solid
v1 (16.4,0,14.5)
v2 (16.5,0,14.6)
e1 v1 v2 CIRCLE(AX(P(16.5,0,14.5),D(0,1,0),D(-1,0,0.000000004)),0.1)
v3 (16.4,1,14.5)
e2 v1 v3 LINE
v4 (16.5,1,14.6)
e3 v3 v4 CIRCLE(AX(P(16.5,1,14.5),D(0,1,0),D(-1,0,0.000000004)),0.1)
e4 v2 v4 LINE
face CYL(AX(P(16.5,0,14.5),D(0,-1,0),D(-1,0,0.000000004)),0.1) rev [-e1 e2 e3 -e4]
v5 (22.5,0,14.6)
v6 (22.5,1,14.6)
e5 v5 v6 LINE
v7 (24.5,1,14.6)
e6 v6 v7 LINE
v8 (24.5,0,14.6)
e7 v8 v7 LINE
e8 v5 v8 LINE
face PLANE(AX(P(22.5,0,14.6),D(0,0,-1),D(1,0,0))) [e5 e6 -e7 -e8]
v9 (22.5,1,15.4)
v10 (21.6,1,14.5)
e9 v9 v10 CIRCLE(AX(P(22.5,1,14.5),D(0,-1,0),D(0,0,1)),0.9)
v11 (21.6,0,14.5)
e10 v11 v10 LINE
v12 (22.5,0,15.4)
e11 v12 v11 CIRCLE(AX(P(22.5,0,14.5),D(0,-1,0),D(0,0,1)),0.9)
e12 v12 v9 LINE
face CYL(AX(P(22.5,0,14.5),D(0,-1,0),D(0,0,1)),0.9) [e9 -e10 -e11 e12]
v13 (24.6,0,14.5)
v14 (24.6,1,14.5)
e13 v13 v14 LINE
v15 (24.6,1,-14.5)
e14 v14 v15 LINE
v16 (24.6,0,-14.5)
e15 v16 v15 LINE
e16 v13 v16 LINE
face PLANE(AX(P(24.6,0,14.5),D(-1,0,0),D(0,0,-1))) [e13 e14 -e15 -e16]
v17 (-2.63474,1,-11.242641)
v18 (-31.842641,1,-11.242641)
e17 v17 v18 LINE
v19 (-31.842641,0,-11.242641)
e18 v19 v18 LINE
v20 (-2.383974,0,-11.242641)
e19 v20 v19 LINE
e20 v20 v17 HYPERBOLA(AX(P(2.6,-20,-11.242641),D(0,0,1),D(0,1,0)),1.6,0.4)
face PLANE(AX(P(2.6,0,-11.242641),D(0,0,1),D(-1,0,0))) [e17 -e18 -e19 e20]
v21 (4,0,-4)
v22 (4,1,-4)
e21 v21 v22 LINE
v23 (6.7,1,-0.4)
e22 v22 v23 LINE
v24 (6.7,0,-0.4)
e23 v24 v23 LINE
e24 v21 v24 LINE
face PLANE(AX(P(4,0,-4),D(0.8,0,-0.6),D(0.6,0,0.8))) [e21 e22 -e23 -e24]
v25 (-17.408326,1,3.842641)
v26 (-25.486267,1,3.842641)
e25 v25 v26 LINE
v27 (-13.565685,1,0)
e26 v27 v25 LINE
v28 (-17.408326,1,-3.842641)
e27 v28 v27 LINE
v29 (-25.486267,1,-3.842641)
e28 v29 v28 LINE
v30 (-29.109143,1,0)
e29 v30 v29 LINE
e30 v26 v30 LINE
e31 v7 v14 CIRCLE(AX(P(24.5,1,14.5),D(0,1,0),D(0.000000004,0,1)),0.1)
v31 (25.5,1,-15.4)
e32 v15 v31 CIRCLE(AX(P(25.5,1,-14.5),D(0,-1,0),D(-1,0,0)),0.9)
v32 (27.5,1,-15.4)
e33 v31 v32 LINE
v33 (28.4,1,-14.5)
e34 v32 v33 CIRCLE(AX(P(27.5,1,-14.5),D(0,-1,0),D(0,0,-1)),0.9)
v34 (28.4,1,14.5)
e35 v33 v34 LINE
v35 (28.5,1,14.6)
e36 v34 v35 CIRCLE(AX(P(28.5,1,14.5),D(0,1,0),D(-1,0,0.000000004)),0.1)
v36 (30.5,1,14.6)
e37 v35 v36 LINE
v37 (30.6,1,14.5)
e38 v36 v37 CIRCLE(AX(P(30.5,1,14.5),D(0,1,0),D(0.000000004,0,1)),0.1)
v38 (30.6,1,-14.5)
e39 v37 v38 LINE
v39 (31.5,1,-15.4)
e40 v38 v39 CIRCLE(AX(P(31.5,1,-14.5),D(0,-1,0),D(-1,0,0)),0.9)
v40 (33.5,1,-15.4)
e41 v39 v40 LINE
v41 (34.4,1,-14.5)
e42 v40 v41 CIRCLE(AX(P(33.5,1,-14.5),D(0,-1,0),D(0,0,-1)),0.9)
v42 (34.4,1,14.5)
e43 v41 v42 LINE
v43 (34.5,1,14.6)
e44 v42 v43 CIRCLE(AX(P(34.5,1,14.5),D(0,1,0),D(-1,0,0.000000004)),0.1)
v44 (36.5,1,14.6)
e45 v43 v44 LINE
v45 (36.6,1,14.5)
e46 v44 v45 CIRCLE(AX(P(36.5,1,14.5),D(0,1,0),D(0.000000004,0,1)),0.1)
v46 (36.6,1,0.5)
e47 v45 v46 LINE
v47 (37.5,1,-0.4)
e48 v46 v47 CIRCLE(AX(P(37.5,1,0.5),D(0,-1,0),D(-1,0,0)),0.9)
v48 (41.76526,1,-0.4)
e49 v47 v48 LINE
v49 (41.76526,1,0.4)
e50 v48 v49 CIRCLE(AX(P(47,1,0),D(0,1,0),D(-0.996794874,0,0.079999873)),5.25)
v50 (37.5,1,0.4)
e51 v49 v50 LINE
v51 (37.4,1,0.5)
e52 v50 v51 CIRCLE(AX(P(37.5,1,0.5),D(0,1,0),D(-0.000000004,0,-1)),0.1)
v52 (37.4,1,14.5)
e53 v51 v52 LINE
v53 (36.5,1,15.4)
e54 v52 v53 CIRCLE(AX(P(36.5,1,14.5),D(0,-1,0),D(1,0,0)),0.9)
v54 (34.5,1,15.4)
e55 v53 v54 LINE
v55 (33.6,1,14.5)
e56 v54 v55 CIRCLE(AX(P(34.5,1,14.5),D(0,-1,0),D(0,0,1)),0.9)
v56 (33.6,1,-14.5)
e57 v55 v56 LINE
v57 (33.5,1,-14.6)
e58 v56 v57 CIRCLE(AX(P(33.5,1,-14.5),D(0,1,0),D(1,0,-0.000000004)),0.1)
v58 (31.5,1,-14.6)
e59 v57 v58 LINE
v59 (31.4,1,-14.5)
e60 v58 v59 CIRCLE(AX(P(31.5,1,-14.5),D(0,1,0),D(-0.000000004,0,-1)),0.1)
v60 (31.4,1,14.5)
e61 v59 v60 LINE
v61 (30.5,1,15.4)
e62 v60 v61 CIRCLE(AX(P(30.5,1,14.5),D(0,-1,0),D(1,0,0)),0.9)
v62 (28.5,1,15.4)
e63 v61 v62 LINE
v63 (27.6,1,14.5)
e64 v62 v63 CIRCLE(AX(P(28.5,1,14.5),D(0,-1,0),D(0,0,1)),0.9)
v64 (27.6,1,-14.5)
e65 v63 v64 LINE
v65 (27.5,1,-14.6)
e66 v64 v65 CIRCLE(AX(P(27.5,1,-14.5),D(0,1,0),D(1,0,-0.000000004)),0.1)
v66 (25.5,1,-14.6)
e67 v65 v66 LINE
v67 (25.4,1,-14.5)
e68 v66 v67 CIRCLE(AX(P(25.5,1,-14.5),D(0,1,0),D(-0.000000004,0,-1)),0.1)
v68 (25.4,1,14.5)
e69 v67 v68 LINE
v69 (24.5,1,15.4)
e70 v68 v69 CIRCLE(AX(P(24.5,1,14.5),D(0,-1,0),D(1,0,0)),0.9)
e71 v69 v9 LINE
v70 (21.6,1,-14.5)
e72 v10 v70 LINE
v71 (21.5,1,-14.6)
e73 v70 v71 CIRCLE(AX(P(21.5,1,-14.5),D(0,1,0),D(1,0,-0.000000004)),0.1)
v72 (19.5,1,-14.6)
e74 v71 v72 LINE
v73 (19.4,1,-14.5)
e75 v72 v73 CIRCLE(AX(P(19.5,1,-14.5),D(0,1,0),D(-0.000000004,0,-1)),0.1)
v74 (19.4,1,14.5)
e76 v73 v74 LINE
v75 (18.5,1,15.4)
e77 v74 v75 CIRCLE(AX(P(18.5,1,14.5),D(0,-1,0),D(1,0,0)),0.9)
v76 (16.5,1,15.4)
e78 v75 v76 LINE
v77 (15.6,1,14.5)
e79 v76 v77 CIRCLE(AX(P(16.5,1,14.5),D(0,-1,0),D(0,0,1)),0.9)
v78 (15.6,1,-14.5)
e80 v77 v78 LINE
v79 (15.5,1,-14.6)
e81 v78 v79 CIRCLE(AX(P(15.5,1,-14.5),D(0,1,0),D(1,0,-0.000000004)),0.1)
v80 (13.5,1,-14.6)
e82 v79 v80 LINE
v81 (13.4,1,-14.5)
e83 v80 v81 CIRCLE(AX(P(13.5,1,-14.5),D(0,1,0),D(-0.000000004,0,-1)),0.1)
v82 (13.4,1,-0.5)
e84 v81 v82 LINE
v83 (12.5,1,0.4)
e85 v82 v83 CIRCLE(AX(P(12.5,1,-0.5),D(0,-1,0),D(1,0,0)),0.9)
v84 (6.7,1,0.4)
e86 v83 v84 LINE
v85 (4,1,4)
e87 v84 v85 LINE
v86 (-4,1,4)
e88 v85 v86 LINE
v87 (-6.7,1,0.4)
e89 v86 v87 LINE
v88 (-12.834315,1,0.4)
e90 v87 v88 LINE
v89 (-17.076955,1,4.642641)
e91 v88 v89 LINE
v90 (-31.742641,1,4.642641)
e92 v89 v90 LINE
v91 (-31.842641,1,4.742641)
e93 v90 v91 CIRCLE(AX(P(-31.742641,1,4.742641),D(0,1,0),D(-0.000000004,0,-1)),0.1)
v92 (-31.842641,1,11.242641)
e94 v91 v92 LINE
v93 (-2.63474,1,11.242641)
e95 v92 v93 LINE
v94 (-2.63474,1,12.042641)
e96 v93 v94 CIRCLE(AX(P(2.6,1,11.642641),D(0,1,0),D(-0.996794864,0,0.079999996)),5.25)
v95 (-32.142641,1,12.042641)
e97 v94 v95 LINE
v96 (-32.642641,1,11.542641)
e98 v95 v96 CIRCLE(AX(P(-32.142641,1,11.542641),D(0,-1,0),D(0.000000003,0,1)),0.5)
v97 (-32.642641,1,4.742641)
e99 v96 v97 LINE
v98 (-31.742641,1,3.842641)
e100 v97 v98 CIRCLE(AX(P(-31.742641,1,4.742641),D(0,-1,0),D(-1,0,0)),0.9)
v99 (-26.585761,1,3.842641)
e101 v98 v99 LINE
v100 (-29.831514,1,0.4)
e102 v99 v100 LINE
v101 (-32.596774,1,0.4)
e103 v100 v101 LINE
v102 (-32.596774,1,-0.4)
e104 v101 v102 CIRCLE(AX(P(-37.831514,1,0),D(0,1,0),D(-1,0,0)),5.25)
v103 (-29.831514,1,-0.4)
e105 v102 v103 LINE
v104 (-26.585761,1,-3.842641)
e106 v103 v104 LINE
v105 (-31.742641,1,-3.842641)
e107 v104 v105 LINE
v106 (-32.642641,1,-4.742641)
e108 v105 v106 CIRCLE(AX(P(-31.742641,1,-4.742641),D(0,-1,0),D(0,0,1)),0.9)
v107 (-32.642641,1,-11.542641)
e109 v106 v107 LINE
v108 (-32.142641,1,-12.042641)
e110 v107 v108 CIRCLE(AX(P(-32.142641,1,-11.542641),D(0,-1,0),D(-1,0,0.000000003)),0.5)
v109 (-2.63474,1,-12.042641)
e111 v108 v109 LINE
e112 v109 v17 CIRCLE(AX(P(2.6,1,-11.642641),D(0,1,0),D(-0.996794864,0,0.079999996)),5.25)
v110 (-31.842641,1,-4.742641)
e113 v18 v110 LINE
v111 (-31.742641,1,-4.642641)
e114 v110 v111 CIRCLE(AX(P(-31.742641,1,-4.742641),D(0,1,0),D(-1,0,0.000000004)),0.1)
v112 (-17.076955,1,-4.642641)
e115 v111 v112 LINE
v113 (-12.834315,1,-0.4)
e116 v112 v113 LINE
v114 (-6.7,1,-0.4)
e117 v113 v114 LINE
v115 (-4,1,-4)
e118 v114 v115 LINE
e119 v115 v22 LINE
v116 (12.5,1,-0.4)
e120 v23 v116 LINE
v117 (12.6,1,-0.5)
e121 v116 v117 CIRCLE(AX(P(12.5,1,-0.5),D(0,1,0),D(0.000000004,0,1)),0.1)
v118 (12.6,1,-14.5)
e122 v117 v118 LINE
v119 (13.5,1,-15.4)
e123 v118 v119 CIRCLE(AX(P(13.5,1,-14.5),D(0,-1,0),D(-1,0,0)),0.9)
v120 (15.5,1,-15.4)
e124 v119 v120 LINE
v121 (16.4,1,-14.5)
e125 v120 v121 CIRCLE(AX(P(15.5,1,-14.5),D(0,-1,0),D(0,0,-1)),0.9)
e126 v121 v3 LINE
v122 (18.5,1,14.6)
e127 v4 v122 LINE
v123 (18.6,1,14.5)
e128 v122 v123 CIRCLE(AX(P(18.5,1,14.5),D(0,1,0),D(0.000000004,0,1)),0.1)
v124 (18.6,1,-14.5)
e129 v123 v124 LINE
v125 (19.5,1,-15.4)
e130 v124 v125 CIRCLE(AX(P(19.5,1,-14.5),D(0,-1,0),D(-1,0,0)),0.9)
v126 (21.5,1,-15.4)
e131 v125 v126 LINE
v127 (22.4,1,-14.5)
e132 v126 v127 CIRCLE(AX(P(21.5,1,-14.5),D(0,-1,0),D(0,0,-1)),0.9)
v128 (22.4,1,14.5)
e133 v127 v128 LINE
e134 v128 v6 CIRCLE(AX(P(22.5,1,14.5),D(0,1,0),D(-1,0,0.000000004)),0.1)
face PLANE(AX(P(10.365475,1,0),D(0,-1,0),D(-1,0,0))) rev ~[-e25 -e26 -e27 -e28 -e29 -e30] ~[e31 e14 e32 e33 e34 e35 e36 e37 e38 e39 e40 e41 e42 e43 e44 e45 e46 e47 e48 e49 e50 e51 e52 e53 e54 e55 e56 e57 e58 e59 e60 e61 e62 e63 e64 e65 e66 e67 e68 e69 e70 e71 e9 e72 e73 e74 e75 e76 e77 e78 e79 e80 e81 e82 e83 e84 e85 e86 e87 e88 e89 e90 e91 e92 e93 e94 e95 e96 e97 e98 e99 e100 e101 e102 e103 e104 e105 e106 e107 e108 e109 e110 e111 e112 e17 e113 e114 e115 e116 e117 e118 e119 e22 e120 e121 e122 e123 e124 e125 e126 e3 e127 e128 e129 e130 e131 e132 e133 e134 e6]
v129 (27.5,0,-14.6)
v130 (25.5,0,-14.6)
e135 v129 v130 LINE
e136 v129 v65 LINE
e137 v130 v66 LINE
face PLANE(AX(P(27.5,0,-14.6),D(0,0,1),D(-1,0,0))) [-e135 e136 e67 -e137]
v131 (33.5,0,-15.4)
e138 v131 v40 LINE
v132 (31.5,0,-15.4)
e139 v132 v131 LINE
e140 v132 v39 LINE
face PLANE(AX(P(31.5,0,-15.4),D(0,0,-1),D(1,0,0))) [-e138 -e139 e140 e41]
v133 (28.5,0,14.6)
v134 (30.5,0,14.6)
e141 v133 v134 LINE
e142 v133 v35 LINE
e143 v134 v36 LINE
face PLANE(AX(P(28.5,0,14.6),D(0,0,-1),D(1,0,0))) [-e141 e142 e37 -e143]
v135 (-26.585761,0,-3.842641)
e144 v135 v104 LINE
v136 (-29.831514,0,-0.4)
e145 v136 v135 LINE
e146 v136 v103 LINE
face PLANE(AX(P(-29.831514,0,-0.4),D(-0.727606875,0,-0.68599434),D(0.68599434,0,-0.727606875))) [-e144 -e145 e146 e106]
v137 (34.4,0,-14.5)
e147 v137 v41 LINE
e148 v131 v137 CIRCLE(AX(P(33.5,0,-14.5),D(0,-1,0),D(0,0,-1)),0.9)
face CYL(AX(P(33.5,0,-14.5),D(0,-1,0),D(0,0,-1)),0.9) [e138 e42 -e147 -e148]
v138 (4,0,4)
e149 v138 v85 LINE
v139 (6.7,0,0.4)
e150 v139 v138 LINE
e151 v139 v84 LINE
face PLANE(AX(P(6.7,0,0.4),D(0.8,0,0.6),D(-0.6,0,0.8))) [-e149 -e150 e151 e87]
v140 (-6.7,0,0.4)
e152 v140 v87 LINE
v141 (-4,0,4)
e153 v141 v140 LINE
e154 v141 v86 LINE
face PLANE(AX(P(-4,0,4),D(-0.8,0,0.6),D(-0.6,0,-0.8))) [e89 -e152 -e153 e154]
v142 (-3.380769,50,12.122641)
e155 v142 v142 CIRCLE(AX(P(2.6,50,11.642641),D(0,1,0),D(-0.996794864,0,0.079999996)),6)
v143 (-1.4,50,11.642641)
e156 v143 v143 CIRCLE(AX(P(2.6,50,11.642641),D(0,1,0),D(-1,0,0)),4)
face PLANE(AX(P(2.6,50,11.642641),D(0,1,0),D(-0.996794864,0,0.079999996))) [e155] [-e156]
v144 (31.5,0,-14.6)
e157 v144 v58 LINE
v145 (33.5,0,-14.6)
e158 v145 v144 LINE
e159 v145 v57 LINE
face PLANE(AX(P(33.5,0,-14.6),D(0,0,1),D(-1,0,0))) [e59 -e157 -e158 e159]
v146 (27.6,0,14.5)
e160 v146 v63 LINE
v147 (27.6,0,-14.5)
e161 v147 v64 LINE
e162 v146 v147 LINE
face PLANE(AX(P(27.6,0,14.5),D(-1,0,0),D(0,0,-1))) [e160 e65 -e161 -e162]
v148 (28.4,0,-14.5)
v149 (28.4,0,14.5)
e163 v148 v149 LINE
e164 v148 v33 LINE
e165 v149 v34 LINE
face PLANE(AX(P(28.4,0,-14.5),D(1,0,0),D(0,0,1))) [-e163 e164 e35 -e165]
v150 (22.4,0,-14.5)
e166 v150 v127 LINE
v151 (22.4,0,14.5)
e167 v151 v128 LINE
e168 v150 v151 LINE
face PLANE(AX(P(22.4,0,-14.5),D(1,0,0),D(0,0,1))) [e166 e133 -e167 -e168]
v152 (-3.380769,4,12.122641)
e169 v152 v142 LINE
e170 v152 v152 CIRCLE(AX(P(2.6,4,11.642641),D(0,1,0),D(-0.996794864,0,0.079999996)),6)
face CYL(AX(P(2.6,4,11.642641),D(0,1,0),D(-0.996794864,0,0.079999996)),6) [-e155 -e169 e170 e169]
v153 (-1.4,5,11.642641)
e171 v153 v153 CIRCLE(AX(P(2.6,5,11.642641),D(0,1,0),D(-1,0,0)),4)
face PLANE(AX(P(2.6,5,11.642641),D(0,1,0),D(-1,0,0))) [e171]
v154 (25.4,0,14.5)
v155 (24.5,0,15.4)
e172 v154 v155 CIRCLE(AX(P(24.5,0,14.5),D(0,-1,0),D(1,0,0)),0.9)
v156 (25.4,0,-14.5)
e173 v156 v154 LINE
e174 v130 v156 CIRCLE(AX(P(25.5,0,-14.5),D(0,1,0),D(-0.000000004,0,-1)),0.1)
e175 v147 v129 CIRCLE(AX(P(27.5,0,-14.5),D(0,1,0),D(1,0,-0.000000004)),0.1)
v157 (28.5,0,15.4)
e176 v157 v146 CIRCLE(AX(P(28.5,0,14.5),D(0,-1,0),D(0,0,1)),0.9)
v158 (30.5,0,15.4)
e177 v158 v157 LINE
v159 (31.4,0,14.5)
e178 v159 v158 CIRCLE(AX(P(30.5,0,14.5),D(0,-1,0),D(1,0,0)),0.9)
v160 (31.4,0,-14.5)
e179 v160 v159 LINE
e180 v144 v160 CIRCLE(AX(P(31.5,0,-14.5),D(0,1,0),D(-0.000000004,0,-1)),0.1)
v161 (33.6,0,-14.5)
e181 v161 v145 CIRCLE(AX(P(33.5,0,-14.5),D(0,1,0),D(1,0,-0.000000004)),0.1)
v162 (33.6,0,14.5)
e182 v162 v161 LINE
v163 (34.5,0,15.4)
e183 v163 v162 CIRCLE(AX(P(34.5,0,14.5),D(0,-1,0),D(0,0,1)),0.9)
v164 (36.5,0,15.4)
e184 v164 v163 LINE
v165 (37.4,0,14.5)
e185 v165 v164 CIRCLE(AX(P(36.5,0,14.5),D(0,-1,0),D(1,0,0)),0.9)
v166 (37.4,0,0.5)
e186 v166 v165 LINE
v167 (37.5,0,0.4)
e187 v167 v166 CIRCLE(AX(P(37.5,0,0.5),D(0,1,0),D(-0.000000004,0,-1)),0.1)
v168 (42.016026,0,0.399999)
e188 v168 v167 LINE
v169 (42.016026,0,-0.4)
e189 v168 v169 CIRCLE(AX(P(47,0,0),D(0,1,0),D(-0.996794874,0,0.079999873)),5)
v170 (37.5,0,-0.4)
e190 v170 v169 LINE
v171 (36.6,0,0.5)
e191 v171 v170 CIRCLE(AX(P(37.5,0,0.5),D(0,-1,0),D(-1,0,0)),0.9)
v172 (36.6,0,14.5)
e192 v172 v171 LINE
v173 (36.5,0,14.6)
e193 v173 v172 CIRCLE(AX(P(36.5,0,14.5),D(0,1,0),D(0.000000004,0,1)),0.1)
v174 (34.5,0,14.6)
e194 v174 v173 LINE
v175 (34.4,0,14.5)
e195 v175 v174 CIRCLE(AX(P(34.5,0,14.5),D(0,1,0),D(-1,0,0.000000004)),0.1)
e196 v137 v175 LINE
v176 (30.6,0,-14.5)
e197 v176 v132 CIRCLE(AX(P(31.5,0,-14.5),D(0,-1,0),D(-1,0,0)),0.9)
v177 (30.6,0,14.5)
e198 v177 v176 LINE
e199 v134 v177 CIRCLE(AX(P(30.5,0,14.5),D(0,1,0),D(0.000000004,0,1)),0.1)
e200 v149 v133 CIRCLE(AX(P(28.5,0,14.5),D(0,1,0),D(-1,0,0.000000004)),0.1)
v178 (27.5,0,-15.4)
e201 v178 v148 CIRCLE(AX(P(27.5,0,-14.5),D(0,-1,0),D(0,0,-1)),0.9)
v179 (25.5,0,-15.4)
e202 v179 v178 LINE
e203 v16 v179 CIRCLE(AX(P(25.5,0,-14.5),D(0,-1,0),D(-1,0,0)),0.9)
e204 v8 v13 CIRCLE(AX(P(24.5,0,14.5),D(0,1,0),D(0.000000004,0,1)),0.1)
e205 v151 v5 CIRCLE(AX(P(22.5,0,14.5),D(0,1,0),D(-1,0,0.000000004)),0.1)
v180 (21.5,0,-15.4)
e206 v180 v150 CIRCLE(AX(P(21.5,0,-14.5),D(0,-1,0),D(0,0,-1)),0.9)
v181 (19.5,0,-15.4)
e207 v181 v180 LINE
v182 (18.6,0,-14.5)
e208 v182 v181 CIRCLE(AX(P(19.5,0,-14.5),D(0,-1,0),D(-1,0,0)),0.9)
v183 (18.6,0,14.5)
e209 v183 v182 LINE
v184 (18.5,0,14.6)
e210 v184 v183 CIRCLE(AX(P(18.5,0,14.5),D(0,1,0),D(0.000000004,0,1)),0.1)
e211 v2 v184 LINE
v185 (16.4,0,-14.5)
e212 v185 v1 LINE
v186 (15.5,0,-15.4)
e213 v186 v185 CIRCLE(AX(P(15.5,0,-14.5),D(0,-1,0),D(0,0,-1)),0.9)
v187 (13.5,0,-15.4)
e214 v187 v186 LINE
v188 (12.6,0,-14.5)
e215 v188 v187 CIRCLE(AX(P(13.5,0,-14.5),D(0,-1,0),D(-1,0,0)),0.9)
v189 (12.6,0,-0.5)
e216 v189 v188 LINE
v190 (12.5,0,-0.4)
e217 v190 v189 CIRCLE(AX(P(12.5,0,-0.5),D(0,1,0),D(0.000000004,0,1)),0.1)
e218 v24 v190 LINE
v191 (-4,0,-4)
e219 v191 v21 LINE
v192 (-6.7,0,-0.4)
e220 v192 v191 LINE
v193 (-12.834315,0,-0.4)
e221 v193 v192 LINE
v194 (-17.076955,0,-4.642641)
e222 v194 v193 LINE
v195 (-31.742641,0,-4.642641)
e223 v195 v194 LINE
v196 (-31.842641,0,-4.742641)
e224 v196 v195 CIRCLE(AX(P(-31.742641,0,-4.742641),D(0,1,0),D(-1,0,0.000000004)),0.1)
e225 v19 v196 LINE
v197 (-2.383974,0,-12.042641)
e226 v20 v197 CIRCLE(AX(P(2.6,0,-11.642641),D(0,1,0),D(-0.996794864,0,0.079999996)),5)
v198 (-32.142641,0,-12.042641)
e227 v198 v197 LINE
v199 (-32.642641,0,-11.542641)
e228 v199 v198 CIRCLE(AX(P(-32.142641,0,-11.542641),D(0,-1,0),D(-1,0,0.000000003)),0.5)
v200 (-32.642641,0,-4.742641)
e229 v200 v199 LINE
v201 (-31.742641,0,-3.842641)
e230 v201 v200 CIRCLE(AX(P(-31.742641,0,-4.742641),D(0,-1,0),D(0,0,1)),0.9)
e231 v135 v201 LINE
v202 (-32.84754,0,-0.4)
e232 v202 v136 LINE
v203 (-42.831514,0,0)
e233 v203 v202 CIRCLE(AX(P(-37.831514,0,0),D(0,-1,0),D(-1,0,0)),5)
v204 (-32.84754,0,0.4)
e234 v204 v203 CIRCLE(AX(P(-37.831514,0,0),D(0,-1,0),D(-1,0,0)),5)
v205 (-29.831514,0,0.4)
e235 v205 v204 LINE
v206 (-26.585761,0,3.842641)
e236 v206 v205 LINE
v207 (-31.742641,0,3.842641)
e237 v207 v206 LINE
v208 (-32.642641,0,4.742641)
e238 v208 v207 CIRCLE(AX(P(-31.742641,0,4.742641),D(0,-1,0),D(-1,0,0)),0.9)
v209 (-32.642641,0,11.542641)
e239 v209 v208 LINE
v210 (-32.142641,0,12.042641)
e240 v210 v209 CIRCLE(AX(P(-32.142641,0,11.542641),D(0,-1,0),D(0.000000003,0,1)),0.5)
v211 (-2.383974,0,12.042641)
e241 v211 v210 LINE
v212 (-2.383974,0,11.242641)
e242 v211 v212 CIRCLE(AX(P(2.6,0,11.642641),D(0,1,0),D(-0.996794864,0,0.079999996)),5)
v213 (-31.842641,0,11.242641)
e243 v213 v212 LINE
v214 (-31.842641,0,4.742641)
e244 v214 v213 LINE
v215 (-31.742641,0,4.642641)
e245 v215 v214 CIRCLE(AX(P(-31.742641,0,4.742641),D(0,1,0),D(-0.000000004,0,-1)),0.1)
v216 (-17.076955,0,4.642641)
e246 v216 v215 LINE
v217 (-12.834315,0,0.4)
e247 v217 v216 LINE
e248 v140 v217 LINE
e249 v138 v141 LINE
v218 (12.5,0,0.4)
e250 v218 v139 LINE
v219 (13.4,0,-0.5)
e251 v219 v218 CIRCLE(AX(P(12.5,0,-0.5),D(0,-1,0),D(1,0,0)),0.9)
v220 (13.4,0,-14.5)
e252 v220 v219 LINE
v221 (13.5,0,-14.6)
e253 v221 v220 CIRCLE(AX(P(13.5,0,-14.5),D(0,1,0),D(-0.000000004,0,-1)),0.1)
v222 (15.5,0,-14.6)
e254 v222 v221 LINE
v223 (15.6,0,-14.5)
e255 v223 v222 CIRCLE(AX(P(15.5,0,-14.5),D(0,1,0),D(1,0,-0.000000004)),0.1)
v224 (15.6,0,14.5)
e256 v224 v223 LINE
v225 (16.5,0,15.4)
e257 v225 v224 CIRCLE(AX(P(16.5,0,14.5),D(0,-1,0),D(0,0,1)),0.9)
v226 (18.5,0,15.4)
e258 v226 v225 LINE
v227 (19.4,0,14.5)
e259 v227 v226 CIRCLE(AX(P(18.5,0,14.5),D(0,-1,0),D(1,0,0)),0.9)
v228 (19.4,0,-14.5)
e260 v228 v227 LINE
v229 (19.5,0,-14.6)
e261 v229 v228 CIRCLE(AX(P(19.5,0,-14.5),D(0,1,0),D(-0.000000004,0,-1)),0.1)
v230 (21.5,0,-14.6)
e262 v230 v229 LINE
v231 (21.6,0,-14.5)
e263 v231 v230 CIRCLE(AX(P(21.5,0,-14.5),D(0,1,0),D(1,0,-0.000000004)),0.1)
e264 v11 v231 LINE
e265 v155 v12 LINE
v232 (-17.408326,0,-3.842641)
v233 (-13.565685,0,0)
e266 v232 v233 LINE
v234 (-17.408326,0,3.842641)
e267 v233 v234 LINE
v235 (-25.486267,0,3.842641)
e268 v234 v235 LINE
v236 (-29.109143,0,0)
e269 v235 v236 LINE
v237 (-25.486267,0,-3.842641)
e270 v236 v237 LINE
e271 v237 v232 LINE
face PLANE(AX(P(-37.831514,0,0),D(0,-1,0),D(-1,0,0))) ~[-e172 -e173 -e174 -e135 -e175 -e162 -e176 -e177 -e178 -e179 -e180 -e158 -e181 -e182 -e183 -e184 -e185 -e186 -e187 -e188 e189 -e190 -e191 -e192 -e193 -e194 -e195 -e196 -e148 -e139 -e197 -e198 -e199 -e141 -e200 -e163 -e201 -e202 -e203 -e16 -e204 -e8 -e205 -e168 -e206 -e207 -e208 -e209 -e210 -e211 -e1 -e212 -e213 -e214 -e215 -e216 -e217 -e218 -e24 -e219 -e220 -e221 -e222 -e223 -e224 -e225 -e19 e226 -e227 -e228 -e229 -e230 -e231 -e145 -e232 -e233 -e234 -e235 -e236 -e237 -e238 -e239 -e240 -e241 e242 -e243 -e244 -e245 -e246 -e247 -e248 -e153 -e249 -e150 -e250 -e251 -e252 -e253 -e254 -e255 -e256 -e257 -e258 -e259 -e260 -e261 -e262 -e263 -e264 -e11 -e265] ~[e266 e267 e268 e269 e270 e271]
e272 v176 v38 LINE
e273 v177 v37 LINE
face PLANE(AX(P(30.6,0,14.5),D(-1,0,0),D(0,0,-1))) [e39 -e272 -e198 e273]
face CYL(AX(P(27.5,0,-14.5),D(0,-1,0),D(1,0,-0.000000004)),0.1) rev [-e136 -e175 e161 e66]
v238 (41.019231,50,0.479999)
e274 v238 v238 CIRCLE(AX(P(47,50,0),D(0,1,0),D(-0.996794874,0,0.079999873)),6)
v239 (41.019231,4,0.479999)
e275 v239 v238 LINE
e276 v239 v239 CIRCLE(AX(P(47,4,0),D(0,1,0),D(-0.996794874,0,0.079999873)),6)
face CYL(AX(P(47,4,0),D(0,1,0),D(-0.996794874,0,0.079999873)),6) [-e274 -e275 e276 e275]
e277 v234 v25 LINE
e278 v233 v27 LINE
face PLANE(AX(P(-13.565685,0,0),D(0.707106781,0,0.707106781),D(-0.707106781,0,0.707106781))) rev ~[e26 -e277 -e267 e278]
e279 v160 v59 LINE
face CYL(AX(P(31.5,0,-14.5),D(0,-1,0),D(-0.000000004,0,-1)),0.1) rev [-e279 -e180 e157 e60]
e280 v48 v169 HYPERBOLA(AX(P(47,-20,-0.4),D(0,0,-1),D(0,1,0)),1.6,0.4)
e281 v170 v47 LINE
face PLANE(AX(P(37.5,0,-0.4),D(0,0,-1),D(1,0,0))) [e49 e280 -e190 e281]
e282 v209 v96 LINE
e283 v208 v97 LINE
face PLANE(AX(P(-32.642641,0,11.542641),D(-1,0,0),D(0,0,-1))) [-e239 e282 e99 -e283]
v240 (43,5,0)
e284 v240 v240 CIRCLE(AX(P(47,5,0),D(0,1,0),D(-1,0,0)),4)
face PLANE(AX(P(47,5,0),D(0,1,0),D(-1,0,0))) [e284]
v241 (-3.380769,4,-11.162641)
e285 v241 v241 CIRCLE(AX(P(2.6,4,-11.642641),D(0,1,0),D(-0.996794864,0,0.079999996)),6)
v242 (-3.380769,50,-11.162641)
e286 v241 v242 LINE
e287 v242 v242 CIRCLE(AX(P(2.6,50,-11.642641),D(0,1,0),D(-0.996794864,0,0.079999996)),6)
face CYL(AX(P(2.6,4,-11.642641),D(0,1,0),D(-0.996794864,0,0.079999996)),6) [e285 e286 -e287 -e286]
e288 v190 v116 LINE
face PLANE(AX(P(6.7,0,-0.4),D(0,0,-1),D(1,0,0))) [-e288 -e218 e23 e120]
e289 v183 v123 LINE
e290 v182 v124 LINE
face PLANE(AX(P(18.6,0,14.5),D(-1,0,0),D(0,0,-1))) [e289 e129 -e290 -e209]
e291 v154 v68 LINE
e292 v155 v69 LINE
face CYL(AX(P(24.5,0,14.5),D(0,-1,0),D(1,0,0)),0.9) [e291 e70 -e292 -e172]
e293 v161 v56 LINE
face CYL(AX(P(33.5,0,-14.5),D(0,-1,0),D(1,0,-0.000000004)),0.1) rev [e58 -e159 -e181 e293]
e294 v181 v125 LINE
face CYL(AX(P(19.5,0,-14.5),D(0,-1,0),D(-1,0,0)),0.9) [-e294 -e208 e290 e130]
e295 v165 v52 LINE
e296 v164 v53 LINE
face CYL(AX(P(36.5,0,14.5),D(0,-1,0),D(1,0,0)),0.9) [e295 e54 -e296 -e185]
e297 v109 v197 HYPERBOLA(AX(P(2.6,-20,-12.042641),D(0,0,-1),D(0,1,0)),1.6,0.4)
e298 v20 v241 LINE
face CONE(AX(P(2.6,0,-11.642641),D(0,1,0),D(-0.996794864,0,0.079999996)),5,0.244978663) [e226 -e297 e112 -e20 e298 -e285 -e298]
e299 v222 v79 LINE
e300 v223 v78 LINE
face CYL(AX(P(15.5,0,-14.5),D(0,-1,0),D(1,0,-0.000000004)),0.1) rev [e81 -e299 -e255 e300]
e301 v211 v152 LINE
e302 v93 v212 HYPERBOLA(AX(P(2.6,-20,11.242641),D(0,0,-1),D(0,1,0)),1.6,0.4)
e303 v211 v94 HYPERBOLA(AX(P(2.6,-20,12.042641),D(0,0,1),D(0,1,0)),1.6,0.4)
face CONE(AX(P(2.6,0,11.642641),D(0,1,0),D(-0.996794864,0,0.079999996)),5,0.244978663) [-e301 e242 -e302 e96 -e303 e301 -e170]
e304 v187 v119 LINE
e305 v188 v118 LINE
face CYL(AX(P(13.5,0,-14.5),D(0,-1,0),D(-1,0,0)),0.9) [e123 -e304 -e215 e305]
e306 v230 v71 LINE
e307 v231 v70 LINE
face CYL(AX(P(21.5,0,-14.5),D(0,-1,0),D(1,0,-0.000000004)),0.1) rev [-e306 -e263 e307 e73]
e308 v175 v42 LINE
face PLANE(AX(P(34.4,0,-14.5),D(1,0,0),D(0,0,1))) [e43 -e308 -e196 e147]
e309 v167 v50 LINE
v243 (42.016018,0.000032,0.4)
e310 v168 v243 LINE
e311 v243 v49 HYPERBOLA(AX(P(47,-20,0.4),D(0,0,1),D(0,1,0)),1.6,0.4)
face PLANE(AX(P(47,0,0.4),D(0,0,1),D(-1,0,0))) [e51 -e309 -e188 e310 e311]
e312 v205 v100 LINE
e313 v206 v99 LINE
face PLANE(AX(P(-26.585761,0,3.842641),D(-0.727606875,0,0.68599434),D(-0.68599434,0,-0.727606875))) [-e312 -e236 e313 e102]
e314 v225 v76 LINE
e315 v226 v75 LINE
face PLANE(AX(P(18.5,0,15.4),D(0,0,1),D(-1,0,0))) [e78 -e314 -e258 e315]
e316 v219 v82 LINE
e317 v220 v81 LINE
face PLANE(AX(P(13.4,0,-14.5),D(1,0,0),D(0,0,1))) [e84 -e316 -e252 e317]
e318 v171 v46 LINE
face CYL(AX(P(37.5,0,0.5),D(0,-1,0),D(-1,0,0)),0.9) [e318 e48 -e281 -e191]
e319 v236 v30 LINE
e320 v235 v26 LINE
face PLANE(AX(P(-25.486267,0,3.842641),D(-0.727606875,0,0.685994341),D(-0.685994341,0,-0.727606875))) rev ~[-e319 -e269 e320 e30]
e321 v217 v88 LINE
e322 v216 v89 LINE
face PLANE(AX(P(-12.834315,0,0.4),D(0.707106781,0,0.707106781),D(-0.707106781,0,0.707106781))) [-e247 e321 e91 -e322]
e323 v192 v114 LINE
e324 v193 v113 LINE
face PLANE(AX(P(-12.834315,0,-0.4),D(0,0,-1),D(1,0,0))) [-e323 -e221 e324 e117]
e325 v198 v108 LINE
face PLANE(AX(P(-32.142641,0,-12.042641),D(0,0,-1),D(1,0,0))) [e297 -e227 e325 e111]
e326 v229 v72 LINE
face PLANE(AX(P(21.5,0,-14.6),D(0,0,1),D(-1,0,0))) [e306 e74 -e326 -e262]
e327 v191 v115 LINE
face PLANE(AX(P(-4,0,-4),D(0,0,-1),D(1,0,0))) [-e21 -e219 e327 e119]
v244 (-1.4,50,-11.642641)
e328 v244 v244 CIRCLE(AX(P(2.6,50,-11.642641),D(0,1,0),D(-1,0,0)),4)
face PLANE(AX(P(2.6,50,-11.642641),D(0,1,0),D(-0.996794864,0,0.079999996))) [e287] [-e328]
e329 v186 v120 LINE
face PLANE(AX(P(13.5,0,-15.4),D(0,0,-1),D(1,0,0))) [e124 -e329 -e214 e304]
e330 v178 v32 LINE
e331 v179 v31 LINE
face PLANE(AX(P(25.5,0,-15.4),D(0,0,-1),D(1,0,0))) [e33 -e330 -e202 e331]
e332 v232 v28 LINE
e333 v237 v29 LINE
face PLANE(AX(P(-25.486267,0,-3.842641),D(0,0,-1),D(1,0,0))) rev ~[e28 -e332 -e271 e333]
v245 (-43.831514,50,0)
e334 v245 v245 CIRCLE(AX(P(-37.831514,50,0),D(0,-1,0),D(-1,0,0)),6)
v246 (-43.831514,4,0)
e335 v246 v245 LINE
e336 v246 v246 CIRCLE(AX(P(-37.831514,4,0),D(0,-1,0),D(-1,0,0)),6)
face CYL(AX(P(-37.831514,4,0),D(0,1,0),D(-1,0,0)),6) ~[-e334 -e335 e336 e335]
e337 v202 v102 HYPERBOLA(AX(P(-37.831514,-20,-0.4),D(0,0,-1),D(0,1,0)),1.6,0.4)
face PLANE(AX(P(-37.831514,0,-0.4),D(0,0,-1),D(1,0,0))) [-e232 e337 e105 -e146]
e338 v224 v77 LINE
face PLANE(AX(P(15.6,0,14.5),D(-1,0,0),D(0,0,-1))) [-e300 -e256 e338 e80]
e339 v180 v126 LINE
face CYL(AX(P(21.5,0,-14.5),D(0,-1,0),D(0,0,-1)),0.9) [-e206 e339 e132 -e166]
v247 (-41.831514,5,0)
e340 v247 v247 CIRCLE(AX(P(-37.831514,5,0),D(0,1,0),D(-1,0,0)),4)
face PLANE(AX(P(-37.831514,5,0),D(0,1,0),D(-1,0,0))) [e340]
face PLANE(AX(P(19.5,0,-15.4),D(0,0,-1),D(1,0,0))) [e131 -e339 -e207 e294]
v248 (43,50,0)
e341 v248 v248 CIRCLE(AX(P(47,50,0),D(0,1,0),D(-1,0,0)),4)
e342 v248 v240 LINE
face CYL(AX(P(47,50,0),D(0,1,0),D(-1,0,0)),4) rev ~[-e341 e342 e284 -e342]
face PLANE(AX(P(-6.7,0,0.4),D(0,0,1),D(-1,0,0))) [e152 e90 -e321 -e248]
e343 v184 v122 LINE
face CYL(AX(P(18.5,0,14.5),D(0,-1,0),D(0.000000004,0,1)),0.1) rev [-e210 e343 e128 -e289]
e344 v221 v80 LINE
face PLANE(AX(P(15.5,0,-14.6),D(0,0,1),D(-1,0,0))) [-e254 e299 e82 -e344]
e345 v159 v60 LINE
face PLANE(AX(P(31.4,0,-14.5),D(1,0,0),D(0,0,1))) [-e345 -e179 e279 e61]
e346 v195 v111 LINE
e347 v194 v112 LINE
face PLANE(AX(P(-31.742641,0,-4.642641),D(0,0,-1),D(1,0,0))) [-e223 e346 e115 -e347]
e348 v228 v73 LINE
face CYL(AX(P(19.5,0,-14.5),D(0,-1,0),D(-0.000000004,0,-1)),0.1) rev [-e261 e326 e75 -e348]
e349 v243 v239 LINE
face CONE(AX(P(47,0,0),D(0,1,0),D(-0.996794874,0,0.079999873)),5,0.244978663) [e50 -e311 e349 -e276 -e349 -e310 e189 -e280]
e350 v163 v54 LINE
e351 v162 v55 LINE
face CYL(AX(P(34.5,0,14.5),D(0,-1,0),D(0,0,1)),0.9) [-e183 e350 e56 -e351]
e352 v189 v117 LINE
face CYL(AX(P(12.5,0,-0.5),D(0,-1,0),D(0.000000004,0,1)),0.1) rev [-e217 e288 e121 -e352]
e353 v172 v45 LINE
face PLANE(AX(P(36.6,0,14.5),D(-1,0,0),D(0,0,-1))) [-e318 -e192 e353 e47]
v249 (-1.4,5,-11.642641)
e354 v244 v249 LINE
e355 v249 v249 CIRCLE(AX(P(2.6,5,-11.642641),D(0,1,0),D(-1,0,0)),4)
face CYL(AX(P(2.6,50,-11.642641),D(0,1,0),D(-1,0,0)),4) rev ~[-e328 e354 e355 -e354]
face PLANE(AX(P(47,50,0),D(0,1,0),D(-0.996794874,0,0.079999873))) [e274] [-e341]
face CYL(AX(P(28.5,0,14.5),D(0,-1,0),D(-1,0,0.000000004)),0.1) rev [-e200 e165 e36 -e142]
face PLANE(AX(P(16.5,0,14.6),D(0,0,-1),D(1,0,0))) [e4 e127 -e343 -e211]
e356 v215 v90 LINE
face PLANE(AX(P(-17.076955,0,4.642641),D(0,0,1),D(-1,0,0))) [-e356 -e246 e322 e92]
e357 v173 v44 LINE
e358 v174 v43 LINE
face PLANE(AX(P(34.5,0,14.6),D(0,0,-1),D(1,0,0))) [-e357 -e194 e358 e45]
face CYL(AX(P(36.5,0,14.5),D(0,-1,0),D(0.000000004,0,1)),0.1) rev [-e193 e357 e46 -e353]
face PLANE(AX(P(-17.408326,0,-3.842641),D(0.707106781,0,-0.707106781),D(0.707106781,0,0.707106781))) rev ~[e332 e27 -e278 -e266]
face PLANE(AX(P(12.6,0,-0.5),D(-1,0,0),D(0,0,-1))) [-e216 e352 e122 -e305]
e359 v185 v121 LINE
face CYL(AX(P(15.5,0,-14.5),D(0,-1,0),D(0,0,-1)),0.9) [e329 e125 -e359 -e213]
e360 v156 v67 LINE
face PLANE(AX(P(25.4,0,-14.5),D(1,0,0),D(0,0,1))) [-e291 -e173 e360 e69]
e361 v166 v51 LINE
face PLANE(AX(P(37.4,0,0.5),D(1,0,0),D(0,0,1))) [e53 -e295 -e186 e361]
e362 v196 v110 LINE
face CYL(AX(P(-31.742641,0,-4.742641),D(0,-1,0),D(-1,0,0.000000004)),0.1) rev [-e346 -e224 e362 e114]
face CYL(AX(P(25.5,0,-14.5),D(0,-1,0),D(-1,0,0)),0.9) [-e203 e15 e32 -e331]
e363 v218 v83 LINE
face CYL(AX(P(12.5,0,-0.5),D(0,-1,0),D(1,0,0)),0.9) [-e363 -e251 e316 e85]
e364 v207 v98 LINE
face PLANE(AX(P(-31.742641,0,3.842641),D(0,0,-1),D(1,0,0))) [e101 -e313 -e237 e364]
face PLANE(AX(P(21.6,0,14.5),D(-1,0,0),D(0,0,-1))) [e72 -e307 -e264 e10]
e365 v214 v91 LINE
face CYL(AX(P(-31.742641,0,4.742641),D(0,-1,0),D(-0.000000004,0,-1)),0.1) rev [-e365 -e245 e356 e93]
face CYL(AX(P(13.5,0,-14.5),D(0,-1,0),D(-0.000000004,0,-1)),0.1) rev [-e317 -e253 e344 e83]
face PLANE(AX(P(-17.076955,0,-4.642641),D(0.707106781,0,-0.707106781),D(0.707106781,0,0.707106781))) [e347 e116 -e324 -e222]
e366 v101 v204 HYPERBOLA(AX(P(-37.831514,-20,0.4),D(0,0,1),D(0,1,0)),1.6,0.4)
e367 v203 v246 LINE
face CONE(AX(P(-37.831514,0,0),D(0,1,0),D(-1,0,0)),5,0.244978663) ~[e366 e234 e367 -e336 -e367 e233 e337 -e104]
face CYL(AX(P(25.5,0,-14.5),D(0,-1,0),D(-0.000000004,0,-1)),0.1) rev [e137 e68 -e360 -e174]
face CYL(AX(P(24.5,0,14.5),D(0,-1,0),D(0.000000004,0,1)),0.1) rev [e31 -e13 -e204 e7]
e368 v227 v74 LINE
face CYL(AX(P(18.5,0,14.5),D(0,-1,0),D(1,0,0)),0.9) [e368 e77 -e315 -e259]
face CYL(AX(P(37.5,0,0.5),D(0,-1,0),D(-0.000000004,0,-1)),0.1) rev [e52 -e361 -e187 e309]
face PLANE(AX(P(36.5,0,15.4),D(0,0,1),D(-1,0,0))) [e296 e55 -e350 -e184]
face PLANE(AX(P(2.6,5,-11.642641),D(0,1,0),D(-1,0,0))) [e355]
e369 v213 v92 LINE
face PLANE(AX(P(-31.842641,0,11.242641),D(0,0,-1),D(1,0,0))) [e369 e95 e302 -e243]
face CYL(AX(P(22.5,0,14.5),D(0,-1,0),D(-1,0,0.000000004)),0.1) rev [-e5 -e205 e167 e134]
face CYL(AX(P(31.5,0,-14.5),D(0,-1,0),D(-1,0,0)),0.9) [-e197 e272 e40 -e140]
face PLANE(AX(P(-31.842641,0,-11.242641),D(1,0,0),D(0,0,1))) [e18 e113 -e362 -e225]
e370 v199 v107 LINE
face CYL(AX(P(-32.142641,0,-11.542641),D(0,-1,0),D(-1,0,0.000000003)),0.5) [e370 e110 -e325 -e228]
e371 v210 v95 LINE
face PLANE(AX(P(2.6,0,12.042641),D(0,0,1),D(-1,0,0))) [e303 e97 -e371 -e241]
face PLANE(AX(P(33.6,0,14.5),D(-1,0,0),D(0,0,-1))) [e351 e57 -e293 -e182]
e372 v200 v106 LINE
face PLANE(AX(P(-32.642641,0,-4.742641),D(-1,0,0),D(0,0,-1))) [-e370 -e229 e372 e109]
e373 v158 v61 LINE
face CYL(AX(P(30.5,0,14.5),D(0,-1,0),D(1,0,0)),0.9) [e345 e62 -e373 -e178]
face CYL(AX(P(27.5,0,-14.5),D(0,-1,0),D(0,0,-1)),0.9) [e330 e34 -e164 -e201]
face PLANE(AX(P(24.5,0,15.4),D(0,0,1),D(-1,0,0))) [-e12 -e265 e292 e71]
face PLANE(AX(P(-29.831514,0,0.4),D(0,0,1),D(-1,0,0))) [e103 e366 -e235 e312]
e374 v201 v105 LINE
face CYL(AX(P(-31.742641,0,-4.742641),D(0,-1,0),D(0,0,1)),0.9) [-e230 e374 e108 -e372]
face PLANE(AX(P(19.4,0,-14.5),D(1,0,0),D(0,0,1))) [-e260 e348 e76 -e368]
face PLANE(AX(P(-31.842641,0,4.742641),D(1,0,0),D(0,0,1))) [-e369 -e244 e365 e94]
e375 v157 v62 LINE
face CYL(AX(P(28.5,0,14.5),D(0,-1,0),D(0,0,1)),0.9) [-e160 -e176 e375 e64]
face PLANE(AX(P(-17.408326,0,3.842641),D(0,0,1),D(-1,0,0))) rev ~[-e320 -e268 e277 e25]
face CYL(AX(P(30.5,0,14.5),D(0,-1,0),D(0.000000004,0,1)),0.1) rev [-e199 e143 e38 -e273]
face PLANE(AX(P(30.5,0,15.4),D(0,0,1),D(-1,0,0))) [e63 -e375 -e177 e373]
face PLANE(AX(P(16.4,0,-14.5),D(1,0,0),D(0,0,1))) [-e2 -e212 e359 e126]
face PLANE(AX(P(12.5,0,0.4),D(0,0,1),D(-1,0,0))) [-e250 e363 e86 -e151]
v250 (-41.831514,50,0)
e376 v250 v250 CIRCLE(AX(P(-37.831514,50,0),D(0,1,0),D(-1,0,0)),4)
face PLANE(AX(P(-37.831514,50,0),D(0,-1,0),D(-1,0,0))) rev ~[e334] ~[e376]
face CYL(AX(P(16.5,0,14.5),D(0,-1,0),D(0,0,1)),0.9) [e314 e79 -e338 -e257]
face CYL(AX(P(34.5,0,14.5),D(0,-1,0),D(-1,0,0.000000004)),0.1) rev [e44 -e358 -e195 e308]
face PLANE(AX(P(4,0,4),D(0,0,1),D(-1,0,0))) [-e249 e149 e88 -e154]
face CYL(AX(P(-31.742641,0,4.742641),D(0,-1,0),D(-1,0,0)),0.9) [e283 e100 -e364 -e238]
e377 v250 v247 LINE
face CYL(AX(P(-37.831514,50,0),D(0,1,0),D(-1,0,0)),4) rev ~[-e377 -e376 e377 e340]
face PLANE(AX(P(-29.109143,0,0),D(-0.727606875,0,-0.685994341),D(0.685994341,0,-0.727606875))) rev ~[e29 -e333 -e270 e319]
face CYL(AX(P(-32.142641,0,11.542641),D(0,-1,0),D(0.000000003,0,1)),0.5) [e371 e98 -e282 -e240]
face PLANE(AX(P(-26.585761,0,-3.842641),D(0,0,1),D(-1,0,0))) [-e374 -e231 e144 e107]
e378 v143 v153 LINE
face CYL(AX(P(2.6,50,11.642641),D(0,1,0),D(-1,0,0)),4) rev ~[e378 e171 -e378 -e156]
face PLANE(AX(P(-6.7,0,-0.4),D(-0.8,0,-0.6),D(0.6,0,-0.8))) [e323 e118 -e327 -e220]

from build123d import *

# Parameters (mm, degrees)
SKELTON_EXTRU_DEPTH = 1
SKETCH8_R           = 4
CUT_EXTRUDE1_DEPTH  = 45


with BuildPart() as part:
    # Sketch2 → skelton_extru (new body)
    with BuildSketch(Plane(origin=(0, 0, 0), x_dir=(1, 0, 0), z_dir=(0, 1, 0))):
        with BuildLine():
            Line((-4, 4), (4, 4))
            Line((4, 4), (6.7, 0.4))
            Line((6.7, 0.4), (12.5, 0.4))
            ThreePointArc((12.5, 0.4), (12.570710678, 0.429289322), (12.6, 0.5))
            Line((12.6, 0.5), (12.6, 14.5))
            ThreePointArc((12.6, 14.5), (12.863603897, 15.136396103), (13.5, 15.4))
            Line((13.5, 15.4), (15.5, 15.4))
            ThreePointArc((15.5, 15.4), (16.136396103, 15.136396103), (16.4, 14.5))
            Line((16.4, 14.5), (16.4, 0))
            Line((16.4, 0), (16.4, -14.5))
            ThreePointArc((16.4, -14.5), (16.429289322, -14.570710678), (16.5, -14.6))
            Line((16.5, -14.6), (18.5, -14.6))
            ThreePointArc((18.5, -14.6), (18.570710678, -14.570710678), (18.6, -14.5))
            Line((18.6, -14.5), (18.6, 14.5))
            ThreePointArc((18.6, 14.5), (18.863603897, 15.136396103), (19.5, 15.4))
            Line((19.5, 15.4), (21.5, 15.4))
            ThreePointArc((21.5, 15.4), (22.136396103, 15.136396103), (22.4, 14.5))
            Line((22.4, 14.5), (22.4, -14.5))
            ThreePointArc((22.4, -14.5), (22.429289322, -14.570710678), (22.5, -14.6))
            Line((22.5, -14.6), (24.5, -14.6))
            ThreePointArc((24.5, -14.6), (24.570710678, -14.570710678), (24.6, -14.5))
            Line((24.6, -14.5), (24.6, 14.5))
            ThreePointArc((24.6, 14.5), (24.863603897, 15.136396103), (25.5, 15.4))
            Line((25.5, 15.4), (27.5, 15.4))
            ThreePointArc((27.5, 15.4), (28.136396103, 15.136396103), (28.4, 14.5))
            Line((28.4, 14.5), (28.4, -14.5))
            ThreePointArc((28.4, -14.5), (28.429289322, -14.570710678), (28.5, -14.6))
            Line((28.5, -14.6), (30.5, -14.6))
            ThreePointArc((30.5, -14.6), (30.570710678, -14.570710678), (30.6, -14.5))
            Line((30.6, -14.5), (30.6, 14.5))
            ThreePointArc((30.6, 14.5), (30.863603897, 15.136396103), (31.5, 15.4))
            Line((31.5, 15.4), (33.5, 15.4))
            ThreePointArc((33.5, 15.4), (34.136396103, 15.136396103), (34.4, 14.5))
            Line((34.4, 14.5), (34.4, -14.5))
            ThreePointArc((34.4, -14.5), (34.429289322, -14.570710678), (34.5, -14.6))
            Line((34.5, -14.6), (36.5, -14.6))
            ThreePointArc((36.5, -14.6), (36.570710678, -14.570710678), (36.6, -14.5))
            Line((36.6, -14.5), (36.6, -0.5))
            ThreePointArc((36.6, -0.5), (36.863603897, 0.136396103), (37.5, 0.4))
            Line((37.5, 0.4), (47, 0.4))
            ThreePointArc((47, 0.4), (47.4, 0), (47, -0.4))
            Line((47, -0.4), (37.5, -0.4))
            ThreePointArc((37.5, -0.4), (37.429289322, -0.429289322), (37.4, -0.5))
            Line((37.4, -0.5), (37.4, -14.5))
            ThreePointArc((37.4, -14.5), (37.136396103, -15.136396103), (36.5, -15.4))
            Line((36.5, -15.4), (34.5, -15.4))
            ThreePointArc((34.5, -15.4), (33.863603897, -15.136396103), (33.6, -14.5))
            Line((33.6, -14.5), (33.6, 14.5))
            ThreePointArc((33.6, 14.5), (33.570710678, 14.570710678), (33.5, 14.6))
            Line((33.5, 14.6), (31.5, 14.6))
            ThreePointArc((31.5, 14.6), (31.429289322, 14.570710678), (31.4, 14.5))
            Line((31.4, 14.5), (31.4, -14.5))
            ThreePointArc((31.4, -14.5), (31.136396103, -15.136396103), (30.5, -15.4))
            Line((30.5, -15.4), (28.5, -15.4))
            ThreePointArc((28.5, -15.4), (27.863603897, -15.136396103), (27.6, -14.5))
            Line((27.6, -14.5), (27.6, 14.5))
            ThreePointArc((27.6, 14.5), (27.570710678, 14.570710678), (27.5, 14.6))
            Line((27.5, 14.6), (25.5, 14.6))
            ThreePointArc((25.5, 14.6), (25.429289322, 14.570710678), (25.4, 14.5))
            Line((25.4, 14.5), (25.4, -14.5))
            ThreePointArc((25.4, -14.5), (25.136396103, -15.136396103), (24.5, -15.4))
            Line((24.5, -15.4), (22.5, -15.4))
            ThreePointArc((22.5, -15.4), (21.863603897, -15.136396103), (21.6, -14.5))
            Line((21.6, -14.5), (21.6, 14.5))
            ThreePointArc((21.6, 14.5), (21.570710678, 14.570710678), (21.5, 14.6))
            Line((21.5, 14.6), (19.5, 14.6))
            ThreePointArc((19.5, 14.6), (19.429289322, 14.570710678), (19.4, 14.5))
            Line((19.4, 14.5), (19.4, -14.5))
            ThreePointArc((19.4, -14.5), (19.136396103, -15.136396103), (18.5, -15.4))
            Line((18.5, -15.4), (16.5, -15.4))
            ThreePointArc((16.5, -15.4), (15.863603897, -15.136396103), (15.6, -14.5))
            Line((15.6, -14.5), (15.6, 0))
            Line((15.6, 0), (15.6, 14.5))
            ThreePointArc((15.6, 14.5), (15.570710678, 14.570710678), (15.5, 14.6))
            Line((15.5, 14.6), (13.5, 14.6))
            ThreePointArc((13.5, 14.6), (13.429289322, 14.570710678), (13.4, 14.5))
            Line((13.4, 14.5), (13.4, 0.5))
            ThreePointArc((13.4, 0.5), (13.136396103, -0.136396103), (12.5, -0.4))
            Line((12.5, -0.4), (6.7, -0.4))
            Line((6.7, -0.4), (4, -4))
            Line((4, -4), (-4, -4))
            Line((-4, -4), (-6.7, -0.4))
            Line((-6.7, -0.4), (-12.834314575, -0.4))
            Line((-12.834314575, -0.4), (-17.076955262, -4.642640687))
            Line((-17.076955262, -4.642640687), (-31.742640687, -4.642640687))
            ThreePointArc((-31.742640687, -4.642640687), (-31.813351365, -4.671930009), (-31.842640687, -4.742640687))
            Line((-31.842640687, -4.742640687), (-31.842640687, -11.242640687))
            Line((-31.842640687, -11.242640687), (2.6, -11.242640687))
            ThreePointArc((2.6, -11.242640687), (3, -11.642640687), (2.6, -12.042640687))
            Line((2.6, -12.042640687), (-31.842640687, -12.042640687))
            Line((-31.842640687, -12.042640687), (-32.142640687, -12.042640687))
            ThreePointArc((-32.142640687, -12.042640687), (-32.496194078, -11.896194078), (-32.642640687, -11.542640687))
            Line((-32.642640687, -11.542640687), (-32.642640687, -4.742640687))
            ThreePointArc((-32.642640687, -4.742640687), (-32.37903679, -4.106244584), (-31.742640687, -3.842640687))
            Line((-31.742640687, -3.842640687), (-26.585761453, -3.842640687))
            Line((-26.585761453, -3.842640687), (-29.831514219, -0.4))
            Line((-29.831514219, -0.4), (-37.831514219, -0.4))
            ThreePointArc((-37.831514219, -0.4), (-38.231514219, 0), (-37.831514219, 0.4))
            Line((-37.831514219, 0.4), (-29.831514219, 0.4))
            Line((-29.831514219, 0.4), (-26.585761453, 3.842640687))
            Line((-26.585761453, 3.842640687), (-31.742640687, 3.842640687))
            ThreePointArc((-31.742640687, 3.842640687), (-32.37903679, 4.106244584), (-32.642640687, 4.742640687))
            Line((-32.642640687, 4.742640687), (-32.642640687, 11.542640687))
            ThreePointArc((-32.642640687, 11.542640687), (-32.496194078, 11.896194078), (-32.142640687, 12.042640687))
            Line((-32.142640687, 12.042640687), (-31.842640687, 12.042640687))
            Line((-31.842640687, 12.042640687), (2.6, 12.042640687))
            ThreePointArc((2.6, 12.042640687), (3, 11.642640687), (2.6, 11.242640687))
            Line((2.6, 11.242640687), (-31.842640687, 11.242640687))
            Line((-31.842640687, 11.242640687), (-31.842640687, 4.742640687))
            ThreePointArc((-31.842640687, 4.742640687), (-31.813351365, 4.671930009), (-31.742640687, 4.642640687))
            Line((-31.742640687, 4.642640687), (-17.076955262, 4.642640687))
            Line((-17.076955262, 4.642640687), (-12.834314575, 0.4))
            Line((-12.834314575, 0.4), (-6.7, 0.4))
            Line((-6.7, 0.4), (-4, 4))
        make_face()
        Polygon((-13.565685425, 0), (-17.408326112, -3.842640687), (-25.486266619, -3.842640687), (-29.109143003, 0), (-25.486266619, 3.842640687), (-17.408326112, 3.842640687), align=None, mode=Mode.SUBTRACT)
    extrude(amount=SKELTON_EXTRU_DEPTH)

    # Sketch3 → Revolve1 (revolve)
    with BuildSketch(Plane.XY.offset(-11.642640687), mode=Mode.PRIVATE) as revolve1_sk:
        Polygon((2.6, 0), (7.6, 0), (8.6, 4), (8.6, 50), (2.6, 50), align=None)
    revolve(revolve1_sk.sketch.rotate(Axis((2.6, 0, -11.642640687), (0, 1, 0)), 184.588565502), axis=Axis((2.6, 0, -11.642640687), (0, 1, 0)))

    # Sketch4 → Revolve2 (revolve)
    with BuildSketch(Plane(origin=(0, 0, 0), x_dir=(-1, 0, 0), z_dir=(0, 0, -1)), mode=Mode.PRIVATE) as revolve2_sk:
        Polygon((-47, 0), (-52, 0), (-53, 4), (-53, 50), (-47, 50), align=None)
    revolve(revolve2_sk.sketch.rotate(Axis((47, 0, 0), (0, 1, 0)), 184.588558424), axis=Axis((47, 0, 0), (0, 1, 0)))

    # Sketch5 → Revolve3 (revolve)
    with BuildSketch(Plane(origin=(0, 0, 0), x_dir=(-1, 0, 0), z_dir=(0, 0, -1))):
        Polygon((37.831514219, 50), (37.831514219, 0), (42.831514219, 0), (43.831514219, 4), (43.831514219, 50), align=None)
    revolve(axis=Axis((-37.831514219, 50, 0), (0, -1, 0)))

    # Sketch6 → Revolve4 (revolve)
    with BuildSketch(Plane.XY.offset(11.642640687), mode=Mode.PRIVATE) as revolve4_sk:
        Polygon((2.6, 0), (7.6, 0), (8.6, 4), (8.6, 50), (2.6, 50), align=None)
    revolve(revolve4_sk.sketch.rotate(Axis((2.6, 0, 11.642640687), (0, 1, 0)), 184.588565502), axis=Axis((2.6, 0, 11.642640687), (0, 1, 0)))

    # Sketch8 → Cut-Extrude1 (cut)
    with BuildSketch(Plane(origin=(0, 50, 0), x_dir=(1, 0, 0), z_dir=(0, 1, 0))):
        with Locations(Location((-37.831514219, 0, 0), (0, 0, 180))):
            Circle(SKETCH8_R)
        with Locations(Location((2.6, 11.642640687, 0), (0, 0, 180))):
            Circle(SKETCH8_R)
        with Locations(Location((2.6, -11.642640687, 0), (0, 0, 180))):
            Circle(SKETCH8_R)
        with Locations(Location((47, 0, 0), (0, 0, 180))):
            Circle(SKETCH8_R)
    extrude(amount=-CUT_EXTRUDE1_DEPTH, mode=Mode.SUBTRACT)


solid = part.part
